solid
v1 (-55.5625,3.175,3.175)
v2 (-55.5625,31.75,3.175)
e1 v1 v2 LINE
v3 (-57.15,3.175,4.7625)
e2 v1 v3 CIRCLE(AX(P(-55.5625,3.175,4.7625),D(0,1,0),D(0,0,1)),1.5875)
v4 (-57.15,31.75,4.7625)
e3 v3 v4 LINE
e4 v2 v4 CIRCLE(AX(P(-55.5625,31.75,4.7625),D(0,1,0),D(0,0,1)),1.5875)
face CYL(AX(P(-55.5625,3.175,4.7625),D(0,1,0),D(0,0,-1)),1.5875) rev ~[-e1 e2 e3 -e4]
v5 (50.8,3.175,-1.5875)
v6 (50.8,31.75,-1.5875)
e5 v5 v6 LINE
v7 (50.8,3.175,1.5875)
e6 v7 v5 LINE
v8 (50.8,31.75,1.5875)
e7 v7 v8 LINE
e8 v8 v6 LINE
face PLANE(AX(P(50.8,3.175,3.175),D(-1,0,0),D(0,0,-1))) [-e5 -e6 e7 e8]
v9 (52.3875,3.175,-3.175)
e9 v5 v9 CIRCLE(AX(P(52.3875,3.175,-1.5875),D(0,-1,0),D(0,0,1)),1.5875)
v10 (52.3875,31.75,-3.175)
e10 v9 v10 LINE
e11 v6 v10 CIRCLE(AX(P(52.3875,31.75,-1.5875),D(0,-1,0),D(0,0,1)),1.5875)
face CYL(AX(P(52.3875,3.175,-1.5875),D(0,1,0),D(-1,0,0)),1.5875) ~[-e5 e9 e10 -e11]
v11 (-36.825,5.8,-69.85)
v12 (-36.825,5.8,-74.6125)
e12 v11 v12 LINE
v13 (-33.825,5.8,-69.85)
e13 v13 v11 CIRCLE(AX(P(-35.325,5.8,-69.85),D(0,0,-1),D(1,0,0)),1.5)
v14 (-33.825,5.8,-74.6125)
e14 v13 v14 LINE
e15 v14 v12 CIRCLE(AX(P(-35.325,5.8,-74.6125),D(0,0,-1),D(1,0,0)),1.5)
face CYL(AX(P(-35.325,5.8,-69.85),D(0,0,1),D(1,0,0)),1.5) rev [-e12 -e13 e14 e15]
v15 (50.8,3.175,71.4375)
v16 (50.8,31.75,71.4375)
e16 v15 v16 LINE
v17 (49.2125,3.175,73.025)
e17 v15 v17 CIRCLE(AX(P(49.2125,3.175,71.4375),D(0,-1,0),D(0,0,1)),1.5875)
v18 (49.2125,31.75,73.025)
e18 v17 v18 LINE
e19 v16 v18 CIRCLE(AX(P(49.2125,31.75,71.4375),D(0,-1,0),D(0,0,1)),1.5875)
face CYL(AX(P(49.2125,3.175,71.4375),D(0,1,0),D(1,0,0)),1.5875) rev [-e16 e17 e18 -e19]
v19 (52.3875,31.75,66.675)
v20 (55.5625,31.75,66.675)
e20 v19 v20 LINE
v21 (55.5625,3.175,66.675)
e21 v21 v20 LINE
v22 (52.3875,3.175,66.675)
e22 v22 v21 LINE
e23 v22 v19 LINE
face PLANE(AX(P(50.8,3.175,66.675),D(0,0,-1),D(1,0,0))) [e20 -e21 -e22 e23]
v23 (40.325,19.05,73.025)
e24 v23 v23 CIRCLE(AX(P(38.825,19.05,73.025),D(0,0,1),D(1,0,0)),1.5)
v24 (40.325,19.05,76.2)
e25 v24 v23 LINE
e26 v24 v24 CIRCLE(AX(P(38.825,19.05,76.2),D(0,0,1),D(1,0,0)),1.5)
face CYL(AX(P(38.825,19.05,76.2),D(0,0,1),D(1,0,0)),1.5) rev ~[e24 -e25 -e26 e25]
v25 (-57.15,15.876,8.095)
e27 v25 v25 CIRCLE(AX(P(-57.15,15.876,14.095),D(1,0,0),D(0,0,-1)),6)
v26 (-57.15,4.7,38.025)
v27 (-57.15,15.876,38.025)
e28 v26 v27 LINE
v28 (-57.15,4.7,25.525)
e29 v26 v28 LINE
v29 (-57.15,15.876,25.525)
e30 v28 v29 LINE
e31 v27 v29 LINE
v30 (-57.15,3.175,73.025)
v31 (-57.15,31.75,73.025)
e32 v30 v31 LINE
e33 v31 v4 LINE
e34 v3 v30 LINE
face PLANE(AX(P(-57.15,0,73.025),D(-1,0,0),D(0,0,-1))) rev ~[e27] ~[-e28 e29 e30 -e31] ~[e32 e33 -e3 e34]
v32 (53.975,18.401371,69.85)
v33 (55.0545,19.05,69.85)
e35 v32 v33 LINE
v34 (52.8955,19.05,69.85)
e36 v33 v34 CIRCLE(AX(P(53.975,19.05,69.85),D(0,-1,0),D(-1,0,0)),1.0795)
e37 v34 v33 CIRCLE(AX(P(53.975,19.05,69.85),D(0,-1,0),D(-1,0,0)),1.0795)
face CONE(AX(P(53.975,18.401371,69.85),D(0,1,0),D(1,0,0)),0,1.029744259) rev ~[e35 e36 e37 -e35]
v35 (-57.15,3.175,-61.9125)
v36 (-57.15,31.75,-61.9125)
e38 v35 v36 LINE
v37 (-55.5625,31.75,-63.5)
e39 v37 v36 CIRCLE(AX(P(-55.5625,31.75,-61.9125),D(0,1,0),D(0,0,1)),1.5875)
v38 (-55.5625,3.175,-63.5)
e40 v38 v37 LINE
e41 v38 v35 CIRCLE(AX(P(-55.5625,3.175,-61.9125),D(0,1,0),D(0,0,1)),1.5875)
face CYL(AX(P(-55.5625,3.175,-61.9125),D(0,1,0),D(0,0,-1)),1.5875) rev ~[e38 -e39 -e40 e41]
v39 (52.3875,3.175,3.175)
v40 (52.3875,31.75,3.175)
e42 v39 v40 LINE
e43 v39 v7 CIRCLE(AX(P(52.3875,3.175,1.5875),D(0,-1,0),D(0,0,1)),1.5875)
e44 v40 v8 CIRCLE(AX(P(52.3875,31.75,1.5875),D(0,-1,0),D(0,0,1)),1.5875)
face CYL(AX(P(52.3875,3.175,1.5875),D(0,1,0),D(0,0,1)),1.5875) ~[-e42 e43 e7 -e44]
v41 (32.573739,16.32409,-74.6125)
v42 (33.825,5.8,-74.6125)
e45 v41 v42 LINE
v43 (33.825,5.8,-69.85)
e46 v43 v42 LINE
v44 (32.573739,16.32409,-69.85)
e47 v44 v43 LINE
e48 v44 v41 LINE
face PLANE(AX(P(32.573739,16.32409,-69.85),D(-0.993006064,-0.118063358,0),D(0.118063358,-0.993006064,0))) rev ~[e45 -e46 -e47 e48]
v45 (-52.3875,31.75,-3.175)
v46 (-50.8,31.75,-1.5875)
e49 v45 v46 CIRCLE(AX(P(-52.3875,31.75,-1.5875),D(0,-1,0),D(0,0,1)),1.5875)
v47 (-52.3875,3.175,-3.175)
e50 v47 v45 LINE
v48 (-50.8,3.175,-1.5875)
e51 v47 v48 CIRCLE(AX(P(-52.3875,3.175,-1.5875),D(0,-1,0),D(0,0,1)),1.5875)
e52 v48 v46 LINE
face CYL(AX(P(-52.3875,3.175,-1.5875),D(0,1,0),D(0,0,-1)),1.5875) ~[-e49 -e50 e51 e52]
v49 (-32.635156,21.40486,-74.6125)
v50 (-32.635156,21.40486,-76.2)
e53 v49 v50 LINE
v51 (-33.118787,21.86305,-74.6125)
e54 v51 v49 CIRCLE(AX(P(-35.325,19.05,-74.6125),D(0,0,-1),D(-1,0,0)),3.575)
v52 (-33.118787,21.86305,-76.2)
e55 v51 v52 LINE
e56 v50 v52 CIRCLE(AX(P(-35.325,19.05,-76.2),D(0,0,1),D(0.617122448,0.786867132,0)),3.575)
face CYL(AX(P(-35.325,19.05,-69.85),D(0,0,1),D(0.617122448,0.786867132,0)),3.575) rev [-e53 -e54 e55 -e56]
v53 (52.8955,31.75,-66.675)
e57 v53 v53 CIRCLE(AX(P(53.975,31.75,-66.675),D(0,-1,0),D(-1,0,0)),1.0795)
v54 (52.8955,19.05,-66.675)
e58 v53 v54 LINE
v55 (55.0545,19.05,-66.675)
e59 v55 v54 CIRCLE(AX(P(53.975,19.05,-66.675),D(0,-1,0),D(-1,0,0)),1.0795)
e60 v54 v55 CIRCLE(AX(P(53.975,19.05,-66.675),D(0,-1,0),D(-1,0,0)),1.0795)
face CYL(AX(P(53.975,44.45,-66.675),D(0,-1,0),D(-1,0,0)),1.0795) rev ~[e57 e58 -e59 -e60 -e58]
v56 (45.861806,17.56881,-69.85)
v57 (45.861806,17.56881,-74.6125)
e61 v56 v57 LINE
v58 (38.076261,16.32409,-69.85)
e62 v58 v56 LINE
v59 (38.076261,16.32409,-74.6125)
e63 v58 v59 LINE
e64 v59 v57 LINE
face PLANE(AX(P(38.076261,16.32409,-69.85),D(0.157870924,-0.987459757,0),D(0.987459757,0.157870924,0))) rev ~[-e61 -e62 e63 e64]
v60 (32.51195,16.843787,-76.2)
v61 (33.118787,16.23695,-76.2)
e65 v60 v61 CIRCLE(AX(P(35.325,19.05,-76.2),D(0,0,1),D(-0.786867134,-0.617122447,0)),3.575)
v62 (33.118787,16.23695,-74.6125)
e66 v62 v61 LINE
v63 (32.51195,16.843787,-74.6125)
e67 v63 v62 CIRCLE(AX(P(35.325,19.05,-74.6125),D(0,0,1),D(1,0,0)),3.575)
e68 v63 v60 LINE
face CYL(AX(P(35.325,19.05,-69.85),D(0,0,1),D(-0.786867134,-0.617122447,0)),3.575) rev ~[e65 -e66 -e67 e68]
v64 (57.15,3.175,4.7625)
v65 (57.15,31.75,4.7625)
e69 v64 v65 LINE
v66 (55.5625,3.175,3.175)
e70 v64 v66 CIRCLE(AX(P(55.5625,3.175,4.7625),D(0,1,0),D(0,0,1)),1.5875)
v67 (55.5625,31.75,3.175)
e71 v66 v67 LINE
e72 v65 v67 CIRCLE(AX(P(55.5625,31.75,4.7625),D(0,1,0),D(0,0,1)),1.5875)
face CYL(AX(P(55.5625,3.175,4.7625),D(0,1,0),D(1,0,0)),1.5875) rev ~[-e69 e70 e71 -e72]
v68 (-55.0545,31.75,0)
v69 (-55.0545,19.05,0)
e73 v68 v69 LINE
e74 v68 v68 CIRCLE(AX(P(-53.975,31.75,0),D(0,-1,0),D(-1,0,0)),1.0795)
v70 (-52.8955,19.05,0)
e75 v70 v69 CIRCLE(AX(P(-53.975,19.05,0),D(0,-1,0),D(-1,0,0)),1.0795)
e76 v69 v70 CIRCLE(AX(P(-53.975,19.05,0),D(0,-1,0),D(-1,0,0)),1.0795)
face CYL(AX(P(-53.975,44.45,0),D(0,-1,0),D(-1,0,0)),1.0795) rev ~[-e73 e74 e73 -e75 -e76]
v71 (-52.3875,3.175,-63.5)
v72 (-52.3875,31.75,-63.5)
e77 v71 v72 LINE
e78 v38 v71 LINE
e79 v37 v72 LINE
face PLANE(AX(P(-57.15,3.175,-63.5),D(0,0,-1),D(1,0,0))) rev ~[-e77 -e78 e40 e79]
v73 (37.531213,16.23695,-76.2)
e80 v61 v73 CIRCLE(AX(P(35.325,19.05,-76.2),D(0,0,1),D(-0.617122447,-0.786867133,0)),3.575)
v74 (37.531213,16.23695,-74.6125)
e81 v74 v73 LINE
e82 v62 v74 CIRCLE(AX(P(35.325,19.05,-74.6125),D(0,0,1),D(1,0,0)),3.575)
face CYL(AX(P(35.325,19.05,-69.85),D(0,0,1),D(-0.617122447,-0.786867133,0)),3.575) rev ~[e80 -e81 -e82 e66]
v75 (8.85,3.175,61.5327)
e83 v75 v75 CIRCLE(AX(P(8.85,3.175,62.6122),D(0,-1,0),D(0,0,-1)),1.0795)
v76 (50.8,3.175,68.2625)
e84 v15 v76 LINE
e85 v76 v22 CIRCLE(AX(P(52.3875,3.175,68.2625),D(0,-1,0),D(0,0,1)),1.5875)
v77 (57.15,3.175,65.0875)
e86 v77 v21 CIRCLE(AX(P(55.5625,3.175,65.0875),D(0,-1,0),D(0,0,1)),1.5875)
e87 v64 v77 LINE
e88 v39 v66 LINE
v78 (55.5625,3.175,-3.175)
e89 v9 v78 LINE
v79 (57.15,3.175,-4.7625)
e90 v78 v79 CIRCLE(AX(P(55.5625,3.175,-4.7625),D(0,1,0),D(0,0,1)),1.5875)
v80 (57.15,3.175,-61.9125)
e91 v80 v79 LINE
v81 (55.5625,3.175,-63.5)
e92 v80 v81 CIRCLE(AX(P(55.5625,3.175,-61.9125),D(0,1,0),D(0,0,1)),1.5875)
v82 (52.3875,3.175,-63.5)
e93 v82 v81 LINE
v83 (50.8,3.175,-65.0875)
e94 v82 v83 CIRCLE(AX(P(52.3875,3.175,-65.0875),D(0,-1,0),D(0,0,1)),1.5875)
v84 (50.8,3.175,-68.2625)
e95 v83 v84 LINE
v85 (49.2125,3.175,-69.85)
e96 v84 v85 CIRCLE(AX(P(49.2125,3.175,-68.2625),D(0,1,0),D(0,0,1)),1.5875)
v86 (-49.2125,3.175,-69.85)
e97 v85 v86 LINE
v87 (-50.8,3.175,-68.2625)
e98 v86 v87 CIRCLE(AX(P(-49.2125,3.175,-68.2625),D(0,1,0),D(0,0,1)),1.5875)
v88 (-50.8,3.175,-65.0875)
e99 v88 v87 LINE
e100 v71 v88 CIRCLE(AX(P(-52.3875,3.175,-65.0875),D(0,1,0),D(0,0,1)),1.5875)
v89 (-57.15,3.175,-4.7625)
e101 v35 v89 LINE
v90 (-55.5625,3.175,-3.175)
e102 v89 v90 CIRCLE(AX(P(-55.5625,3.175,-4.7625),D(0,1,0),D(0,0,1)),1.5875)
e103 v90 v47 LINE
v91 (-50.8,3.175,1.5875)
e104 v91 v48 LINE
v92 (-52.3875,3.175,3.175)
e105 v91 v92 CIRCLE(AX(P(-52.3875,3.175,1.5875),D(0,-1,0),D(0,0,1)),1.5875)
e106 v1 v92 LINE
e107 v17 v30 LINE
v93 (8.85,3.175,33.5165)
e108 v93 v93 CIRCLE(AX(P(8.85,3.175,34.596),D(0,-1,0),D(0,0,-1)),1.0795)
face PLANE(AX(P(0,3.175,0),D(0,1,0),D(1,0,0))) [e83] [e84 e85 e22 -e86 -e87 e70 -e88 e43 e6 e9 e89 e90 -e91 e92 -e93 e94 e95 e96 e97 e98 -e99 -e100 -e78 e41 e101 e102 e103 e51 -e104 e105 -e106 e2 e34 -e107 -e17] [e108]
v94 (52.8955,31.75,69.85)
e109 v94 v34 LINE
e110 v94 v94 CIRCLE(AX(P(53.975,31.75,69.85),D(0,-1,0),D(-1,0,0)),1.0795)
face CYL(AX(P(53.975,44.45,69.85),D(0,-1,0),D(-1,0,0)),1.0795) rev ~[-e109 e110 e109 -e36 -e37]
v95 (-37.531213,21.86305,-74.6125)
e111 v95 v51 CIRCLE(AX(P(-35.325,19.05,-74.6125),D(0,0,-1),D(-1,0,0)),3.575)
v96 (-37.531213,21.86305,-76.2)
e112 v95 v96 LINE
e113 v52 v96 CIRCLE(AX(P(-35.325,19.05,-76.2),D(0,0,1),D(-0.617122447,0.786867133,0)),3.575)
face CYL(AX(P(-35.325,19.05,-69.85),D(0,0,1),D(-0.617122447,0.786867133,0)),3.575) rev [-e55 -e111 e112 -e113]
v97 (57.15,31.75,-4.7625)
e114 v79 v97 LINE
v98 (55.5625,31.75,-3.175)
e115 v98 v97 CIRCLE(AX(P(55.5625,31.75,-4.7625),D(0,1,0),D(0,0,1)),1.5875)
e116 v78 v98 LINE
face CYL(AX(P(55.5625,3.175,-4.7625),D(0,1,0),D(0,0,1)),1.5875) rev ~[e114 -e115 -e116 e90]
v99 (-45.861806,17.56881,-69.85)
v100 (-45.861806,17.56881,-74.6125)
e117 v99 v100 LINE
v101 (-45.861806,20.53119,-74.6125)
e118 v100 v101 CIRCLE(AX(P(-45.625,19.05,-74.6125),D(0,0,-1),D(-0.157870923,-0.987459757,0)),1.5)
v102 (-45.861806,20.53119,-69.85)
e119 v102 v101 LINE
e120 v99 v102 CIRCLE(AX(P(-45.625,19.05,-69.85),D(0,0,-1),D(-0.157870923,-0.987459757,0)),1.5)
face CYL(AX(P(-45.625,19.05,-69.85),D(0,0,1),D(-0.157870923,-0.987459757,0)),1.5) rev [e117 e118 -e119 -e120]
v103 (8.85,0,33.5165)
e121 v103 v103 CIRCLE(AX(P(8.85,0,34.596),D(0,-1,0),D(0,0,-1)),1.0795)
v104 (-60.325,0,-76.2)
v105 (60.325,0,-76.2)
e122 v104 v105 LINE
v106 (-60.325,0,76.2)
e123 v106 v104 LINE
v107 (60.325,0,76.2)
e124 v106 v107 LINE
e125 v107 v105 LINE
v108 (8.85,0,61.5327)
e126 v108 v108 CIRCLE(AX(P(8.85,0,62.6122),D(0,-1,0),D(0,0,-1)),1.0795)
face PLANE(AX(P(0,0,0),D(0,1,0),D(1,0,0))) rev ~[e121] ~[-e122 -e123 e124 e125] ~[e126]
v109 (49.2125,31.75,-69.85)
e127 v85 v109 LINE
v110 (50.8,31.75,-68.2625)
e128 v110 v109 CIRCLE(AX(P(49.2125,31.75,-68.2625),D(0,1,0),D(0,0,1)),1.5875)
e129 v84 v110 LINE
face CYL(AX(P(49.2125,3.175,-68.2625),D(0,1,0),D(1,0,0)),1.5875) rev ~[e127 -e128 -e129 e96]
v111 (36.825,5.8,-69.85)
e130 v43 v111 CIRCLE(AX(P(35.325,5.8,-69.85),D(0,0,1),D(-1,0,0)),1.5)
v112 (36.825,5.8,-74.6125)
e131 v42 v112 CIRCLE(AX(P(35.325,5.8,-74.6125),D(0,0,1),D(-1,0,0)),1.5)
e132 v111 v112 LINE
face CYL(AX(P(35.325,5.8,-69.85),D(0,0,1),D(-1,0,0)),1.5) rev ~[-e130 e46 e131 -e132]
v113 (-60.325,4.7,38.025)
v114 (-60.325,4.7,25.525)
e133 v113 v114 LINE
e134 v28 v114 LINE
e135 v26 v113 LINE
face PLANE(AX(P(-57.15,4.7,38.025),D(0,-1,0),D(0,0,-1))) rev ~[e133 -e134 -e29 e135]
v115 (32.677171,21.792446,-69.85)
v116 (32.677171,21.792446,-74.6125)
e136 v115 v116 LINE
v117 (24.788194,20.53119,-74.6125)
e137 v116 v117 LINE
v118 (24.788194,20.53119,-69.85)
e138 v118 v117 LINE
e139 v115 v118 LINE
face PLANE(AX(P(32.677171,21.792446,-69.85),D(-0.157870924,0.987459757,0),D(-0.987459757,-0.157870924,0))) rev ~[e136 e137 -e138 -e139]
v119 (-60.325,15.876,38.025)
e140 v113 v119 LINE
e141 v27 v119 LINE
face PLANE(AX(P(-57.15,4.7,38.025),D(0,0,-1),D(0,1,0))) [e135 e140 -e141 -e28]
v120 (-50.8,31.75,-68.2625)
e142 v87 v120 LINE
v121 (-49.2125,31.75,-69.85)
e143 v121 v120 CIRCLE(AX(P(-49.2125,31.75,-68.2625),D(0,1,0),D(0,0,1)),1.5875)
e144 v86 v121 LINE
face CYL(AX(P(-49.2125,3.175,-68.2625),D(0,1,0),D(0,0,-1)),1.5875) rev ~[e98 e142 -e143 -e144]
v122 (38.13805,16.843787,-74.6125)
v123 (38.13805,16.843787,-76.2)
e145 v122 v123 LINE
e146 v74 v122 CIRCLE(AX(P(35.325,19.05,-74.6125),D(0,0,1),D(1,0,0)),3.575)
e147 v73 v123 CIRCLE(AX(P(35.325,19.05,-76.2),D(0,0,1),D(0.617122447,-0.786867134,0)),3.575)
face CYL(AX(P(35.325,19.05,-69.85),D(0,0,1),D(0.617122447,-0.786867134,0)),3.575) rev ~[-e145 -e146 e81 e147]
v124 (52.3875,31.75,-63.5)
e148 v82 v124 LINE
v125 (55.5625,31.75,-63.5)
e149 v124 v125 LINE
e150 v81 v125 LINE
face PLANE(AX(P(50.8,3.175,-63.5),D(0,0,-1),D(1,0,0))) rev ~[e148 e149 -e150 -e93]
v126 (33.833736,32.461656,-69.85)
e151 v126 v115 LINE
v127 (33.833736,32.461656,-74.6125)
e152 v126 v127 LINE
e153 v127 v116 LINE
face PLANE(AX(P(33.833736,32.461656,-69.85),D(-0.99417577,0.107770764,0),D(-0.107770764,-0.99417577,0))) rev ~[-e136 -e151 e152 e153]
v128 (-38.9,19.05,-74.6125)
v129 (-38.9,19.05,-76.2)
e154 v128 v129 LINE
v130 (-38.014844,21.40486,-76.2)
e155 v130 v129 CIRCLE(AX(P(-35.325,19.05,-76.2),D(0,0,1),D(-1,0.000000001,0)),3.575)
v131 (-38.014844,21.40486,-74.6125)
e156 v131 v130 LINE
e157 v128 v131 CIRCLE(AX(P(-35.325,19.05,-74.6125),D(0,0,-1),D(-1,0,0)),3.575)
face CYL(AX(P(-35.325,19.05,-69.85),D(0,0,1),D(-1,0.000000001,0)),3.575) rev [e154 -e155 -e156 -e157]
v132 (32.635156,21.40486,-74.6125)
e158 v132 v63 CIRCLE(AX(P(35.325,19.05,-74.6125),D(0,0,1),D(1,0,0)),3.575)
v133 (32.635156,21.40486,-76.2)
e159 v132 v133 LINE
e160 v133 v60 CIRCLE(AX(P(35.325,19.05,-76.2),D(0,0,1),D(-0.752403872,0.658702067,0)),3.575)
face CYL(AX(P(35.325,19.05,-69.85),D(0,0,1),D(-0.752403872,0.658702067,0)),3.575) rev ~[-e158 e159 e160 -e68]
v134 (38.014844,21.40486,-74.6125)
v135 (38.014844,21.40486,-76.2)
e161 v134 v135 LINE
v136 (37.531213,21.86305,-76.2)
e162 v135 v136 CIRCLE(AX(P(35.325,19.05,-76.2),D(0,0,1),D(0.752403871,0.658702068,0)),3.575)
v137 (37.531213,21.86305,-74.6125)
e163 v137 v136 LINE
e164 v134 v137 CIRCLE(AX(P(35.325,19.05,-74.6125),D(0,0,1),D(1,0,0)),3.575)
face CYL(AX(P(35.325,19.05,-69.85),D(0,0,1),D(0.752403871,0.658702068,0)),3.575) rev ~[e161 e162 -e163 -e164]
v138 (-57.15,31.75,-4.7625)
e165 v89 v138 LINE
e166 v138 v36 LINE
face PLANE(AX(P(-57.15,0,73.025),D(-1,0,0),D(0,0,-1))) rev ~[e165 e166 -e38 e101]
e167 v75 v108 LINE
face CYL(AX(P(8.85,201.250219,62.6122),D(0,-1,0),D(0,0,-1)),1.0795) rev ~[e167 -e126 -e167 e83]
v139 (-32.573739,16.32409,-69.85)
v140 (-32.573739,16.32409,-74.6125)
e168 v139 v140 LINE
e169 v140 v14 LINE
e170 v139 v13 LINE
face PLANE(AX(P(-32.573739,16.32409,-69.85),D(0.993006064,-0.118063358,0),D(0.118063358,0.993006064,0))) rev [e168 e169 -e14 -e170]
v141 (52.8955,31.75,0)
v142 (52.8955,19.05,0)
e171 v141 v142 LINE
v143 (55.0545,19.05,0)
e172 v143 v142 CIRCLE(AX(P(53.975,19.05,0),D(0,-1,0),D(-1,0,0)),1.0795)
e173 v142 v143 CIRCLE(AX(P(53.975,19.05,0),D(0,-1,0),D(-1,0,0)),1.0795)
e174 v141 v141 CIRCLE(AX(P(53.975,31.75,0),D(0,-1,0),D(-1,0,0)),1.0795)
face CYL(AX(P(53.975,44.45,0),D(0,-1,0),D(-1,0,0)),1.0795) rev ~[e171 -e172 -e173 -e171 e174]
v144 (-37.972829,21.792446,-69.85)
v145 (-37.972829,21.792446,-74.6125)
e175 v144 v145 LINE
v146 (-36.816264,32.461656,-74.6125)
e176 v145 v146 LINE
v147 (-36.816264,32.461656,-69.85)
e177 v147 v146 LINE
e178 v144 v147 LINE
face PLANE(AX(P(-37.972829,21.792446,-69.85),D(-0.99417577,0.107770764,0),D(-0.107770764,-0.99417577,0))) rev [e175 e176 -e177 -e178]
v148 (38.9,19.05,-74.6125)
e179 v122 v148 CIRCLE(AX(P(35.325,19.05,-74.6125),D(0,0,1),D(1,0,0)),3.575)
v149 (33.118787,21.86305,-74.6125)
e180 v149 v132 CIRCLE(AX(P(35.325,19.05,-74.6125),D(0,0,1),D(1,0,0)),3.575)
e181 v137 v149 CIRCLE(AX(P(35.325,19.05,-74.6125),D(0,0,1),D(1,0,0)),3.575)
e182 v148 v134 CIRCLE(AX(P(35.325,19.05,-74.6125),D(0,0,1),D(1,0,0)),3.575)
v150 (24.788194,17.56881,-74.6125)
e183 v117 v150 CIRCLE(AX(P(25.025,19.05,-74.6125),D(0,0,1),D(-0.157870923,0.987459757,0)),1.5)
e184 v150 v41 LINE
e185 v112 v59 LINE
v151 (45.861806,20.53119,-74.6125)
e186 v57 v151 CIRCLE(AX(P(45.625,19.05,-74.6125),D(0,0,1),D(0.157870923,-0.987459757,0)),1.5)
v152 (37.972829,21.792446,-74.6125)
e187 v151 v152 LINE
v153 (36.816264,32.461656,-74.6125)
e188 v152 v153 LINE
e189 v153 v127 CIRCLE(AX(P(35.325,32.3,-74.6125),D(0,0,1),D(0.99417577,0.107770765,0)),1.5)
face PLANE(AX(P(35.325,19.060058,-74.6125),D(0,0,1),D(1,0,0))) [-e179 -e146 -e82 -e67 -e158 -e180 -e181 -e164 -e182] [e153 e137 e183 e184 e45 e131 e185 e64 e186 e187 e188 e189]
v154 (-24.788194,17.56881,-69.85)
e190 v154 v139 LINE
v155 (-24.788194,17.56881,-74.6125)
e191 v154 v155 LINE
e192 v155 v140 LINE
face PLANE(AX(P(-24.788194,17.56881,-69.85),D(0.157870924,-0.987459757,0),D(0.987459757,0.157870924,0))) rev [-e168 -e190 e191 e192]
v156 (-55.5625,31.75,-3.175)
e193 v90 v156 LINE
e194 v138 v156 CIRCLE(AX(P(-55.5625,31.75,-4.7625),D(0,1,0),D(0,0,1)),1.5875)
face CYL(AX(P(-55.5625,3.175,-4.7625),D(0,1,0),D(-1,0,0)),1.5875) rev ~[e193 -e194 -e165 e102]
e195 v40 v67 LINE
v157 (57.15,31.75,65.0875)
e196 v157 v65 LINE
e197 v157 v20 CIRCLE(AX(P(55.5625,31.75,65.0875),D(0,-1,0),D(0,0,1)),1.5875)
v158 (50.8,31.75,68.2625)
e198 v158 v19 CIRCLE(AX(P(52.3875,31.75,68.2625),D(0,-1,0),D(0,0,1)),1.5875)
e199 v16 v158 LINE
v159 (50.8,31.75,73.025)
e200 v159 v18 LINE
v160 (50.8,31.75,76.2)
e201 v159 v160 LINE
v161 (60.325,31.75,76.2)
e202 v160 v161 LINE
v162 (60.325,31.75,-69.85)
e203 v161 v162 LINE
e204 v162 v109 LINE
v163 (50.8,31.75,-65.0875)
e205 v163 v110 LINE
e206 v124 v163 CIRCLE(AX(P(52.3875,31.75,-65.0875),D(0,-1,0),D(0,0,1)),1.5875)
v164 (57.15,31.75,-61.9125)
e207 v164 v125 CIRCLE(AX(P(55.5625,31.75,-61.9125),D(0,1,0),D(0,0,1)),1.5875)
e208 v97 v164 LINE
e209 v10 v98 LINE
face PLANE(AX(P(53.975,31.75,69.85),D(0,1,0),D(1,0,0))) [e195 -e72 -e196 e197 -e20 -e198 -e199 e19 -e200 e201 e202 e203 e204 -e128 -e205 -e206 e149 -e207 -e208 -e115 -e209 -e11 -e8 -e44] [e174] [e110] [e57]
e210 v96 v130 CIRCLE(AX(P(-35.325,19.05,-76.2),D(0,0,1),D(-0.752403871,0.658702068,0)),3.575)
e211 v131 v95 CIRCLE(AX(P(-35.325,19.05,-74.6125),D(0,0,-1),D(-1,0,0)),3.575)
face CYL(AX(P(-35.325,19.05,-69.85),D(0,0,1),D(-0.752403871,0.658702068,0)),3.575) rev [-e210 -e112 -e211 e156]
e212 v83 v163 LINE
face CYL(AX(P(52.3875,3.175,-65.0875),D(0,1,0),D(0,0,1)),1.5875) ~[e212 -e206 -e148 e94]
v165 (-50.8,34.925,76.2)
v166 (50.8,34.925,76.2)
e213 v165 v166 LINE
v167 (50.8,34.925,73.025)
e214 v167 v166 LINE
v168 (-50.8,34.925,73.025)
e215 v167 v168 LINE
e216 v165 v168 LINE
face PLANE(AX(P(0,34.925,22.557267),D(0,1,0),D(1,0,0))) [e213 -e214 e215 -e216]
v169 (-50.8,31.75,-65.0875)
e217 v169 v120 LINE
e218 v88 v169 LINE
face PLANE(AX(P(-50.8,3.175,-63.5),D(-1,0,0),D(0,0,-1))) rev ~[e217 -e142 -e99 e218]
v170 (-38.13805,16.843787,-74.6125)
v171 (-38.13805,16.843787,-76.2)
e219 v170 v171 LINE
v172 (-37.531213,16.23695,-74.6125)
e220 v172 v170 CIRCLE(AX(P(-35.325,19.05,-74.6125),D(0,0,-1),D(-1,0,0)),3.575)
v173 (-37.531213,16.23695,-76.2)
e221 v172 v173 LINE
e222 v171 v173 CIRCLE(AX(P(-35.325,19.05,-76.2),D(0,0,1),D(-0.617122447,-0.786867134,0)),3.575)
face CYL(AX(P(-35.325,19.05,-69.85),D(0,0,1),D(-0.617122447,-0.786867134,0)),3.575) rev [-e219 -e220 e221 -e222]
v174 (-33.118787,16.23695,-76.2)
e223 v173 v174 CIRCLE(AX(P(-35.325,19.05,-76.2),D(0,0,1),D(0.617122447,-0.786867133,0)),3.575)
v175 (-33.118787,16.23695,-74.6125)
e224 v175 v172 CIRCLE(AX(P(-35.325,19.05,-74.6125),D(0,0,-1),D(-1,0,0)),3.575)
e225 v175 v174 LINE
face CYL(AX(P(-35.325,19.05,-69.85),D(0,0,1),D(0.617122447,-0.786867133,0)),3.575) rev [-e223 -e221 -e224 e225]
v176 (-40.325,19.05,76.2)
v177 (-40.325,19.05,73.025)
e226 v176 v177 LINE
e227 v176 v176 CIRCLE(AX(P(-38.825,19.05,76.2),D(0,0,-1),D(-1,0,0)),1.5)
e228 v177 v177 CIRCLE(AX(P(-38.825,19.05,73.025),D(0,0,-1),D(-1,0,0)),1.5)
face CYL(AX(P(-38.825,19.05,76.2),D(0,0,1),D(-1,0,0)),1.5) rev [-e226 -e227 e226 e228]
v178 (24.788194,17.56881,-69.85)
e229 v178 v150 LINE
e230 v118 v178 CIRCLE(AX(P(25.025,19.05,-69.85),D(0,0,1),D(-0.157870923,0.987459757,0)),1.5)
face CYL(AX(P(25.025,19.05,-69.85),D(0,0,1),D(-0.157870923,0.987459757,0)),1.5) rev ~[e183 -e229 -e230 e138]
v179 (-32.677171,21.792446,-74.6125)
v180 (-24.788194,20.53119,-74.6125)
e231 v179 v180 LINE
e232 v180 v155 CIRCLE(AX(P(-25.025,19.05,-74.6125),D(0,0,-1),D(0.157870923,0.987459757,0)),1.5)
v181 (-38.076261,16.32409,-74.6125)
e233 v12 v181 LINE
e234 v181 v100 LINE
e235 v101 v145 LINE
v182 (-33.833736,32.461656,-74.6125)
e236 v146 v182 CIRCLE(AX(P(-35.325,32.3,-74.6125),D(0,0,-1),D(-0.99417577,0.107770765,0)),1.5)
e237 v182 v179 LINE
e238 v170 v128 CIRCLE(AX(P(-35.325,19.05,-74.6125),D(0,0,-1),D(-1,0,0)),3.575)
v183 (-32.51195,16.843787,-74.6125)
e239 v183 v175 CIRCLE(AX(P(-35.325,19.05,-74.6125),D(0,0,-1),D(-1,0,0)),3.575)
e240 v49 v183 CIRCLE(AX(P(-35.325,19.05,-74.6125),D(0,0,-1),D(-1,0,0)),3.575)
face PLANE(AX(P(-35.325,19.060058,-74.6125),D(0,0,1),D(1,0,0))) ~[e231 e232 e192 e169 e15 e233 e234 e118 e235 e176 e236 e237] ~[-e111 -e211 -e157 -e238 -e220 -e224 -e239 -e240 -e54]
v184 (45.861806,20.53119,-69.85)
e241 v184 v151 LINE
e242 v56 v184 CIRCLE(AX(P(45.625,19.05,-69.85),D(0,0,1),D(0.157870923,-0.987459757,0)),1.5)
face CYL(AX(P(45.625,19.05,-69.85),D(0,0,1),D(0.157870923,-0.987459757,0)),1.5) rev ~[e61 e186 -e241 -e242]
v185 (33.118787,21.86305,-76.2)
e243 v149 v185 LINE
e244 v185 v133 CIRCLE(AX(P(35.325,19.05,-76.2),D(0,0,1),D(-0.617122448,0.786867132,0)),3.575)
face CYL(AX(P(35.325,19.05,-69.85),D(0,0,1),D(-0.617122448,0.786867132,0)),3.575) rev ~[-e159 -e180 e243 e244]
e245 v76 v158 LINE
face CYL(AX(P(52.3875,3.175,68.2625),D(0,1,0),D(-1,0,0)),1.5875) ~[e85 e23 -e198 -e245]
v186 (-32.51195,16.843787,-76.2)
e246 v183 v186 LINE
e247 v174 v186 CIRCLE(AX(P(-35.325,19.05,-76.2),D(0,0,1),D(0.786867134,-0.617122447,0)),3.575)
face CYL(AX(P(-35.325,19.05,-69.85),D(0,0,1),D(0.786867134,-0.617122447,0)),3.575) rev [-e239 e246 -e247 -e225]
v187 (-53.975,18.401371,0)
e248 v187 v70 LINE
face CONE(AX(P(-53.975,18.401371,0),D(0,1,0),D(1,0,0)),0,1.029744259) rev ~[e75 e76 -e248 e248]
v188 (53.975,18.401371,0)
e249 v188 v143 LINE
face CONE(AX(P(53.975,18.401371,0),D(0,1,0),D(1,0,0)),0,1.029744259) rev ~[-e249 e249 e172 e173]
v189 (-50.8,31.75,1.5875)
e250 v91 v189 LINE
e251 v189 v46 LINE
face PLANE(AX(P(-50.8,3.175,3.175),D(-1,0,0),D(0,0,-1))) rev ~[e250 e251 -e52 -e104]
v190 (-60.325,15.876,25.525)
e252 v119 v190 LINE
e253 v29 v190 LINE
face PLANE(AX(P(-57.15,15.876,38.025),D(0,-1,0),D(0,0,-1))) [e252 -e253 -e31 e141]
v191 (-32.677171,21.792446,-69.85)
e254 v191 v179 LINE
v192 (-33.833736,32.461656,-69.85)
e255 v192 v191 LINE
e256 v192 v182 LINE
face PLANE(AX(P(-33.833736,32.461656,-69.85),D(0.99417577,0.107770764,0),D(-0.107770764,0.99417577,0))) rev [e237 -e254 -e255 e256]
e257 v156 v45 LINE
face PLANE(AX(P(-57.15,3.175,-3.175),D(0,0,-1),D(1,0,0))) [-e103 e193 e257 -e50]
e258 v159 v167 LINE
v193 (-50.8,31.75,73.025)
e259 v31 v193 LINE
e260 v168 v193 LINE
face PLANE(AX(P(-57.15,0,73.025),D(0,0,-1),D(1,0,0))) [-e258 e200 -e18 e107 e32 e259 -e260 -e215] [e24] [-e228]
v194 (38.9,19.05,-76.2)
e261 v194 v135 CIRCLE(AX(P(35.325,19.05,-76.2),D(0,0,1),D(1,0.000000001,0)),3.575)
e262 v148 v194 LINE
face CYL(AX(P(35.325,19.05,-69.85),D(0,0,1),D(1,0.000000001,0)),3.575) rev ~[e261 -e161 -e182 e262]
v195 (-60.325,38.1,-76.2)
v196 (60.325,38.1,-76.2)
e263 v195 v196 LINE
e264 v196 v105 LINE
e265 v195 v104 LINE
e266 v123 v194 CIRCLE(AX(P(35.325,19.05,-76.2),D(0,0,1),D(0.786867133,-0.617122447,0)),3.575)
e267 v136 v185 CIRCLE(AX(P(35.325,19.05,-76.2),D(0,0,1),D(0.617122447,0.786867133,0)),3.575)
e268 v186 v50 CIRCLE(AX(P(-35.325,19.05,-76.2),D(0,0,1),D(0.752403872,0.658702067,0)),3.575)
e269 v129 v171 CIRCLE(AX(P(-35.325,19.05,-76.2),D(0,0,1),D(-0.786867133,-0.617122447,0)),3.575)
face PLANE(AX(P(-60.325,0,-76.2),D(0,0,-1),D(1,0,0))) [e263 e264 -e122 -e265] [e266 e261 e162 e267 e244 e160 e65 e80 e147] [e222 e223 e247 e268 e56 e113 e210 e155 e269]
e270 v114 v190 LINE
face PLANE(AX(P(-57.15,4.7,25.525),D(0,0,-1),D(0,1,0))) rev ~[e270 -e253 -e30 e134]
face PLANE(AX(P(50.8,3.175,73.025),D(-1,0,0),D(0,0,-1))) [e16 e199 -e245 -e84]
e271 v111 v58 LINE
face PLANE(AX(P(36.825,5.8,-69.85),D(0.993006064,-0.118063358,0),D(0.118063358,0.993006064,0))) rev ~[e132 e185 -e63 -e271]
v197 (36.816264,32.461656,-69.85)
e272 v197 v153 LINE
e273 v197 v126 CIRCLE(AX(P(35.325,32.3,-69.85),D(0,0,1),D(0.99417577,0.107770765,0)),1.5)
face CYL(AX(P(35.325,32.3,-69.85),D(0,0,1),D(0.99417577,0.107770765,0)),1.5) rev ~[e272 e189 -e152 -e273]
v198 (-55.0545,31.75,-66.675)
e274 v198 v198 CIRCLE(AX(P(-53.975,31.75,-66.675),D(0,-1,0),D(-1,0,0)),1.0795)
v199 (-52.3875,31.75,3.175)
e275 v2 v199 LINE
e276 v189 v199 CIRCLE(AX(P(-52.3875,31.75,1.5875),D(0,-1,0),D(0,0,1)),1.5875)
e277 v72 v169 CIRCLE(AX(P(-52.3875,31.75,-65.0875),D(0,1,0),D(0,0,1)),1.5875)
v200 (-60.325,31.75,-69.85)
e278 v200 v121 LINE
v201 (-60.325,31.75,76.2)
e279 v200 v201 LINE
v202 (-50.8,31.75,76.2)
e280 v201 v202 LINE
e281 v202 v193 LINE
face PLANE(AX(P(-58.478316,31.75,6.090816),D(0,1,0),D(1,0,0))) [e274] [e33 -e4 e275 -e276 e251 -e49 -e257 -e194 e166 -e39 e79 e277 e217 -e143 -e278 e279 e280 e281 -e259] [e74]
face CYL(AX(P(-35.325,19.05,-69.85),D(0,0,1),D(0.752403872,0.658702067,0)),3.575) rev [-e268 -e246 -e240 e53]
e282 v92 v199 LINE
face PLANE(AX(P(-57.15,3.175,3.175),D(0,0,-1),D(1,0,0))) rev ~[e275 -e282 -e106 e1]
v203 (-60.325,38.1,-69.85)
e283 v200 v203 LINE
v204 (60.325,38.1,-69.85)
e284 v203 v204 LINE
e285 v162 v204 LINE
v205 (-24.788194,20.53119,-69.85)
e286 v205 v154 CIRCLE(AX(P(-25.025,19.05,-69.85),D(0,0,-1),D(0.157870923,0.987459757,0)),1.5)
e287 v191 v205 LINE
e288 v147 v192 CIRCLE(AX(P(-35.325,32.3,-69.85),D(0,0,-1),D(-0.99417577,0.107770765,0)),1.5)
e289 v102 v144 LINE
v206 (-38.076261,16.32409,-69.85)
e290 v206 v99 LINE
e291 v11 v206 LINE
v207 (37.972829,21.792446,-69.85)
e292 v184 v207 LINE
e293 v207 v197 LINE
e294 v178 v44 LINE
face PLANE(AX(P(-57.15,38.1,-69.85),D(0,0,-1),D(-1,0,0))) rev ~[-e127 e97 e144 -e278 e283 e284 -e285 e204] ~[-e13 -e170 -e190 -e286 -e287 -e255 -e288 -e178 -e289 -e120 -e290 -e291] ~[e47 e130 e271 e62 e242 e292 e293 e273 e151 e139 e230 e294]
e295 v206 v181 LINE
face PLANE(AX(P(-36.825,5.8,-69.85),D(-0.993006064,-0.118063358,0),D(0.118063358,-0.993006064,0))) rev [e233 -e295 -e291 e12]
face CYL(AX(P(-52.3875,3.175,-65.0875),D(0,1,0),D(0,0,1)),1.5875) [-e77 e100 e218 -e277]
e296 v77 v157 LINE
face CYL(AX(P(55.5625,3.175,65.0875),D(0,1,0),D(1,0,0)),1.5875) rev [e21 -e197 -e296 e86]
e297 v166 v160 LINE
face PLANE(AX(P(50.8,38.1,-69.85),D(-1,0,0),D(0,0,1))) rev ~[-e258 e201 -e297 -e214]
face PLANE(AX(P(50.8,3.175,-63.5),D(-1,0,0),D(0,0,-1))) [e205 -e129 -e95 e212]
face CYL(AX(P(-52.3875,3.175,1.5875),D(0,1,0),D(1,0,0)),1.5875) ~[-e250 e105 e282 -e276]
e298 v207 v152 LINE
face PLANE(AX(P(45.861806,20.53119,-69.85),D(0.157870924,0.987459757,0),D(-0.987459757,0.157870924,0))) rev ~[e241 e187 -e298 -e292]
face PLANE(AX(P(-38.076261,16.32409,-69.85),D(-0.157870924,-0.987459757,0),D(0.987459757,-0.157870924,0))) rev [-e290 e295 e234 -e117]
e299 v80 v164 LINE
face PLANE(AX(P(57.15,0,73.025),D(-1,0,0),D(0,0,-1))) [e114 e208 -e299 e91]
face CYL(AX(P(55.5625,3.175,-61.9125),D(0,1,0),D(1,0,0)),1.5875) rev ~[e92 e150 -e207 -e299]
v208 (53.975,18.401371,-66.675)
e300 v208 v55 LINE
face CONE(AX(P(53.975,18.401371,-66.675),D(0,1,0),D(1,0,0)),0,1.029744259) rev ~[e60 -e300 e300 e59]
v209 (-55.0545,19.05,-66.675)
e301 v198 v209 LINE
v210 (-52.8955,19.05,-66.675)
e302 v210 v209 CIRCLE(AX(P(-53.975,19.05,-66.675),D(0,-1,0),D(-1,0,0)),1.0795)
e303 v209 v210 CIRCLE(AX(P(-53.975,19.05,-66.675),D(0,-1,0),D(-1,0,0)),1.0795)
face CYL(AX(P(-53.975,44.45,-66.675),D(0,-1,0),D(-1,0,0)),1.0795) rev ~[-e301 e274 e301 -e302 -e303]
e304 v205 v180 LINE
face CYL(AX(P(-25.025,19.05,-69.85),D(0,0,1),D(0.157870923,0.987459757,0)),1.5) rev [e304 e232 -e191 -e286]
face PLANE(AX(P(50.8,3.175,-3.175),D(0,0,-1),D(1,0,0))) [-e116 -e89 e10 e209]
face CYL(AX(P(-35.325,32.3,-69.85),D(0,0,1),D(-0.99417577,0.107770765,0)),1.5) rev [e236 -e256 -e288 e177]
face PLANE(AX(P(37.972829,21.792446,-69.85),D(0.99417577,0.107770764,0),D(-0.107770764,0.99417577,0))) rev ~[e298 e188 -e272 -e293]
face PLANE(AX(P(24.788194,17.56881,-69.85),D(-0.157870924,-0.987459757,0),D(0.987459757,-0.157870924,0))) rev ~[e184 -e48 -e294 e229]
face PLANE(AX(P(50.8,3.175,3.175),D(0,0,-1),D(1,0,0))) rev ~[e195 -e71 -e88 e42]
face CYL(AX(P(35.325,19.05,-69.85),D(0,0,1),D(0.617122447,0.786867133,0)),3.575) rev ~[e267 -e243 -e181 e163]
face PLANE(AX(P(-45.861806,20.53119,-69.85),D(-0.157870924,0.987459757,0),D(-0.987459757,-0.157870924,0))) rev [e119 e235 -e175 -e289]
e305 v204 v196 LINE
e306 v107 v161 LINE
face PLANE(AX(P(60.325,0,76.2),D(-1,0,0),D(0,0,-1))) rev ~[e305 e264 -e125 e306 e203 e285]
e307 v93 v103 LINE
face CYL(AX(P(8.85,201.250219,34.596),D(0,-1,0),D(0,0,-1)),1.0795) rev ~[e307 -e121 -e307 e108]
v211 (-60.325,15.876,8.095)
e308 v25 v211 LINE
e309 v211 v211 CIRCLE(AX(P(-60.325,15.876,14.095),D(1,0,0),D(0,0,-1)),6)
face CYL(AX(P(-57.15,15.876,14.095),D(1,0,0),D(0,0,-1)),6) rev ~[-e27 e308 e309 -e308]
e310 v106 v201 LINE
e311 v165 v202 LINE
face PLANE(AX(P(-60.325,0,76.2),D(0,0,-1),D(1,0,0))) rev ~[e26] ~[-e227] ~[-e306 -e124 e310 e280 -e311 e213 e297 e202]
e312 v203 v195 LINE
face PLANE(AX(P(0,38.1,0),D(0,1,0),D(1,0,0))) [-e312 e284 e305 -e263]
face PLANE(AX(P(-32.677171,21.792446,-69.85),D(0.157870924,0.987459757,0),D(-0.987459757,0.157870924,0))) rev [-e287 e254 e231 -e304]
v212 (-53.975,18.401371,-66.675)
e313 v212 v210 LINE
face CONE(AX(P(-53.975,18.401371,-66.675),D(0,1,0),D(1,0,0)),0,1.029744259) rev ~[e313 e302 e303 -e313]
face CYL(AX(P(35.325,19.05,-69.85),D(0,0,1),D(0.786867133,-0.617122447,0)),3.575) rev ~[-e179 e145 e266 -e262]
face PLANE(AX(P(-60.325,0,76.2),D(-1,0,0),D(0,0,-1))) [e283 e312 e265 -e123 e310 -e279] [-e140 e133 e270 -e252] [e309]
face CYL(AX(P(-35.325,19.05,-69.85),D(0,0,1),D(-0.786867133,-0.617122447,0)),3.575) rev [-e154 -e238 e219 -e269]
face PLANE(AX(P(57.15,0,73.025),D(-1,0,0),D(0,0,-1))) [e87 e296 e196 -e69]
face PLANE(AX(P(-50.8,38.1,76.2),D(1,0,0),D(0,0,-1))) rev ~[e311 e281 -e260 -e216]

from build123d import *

# Parameters (mm, degrees)
SKETCH1_W                 = 120.65
SKETCH1_H                 = 152.4
BOSS_EXTRUDE1_DEPTH       = 3.175
SKETCH1_3_W               = 120.65
SKETCH1_3_H               = 152.4
SKETCH1_3_W_2             = 114.3
SKETCH1_3_H_2             = 142.875
BOSS_EXTRUDE2_DEPTH       = 38.1
SKETCH2_R                 = 1.5
CUT_EXTRUDE1_DEPTH        = 3.175
SKETCH3_R                 = 3.575
CUT_EXTRUDE8_DEPTH        = 4.7625
CUT_EXTRUDE9_DEPTH        = 163.546356849
CUT_EXTRUDE10_REACH       = 147.115
SKETCH4_R                 = 6
SKETCH4_W                 = 12.5
SKETCH4_H                 = 11.176
F_2_CLEARANCE_HOLE1_D     = 2.159
CUT_EXTRUDE11_DEPTH       = 3.175
SKETCH8_6_W               = 6.35
SKETCH8_6_H               = 142.875
CUT_EXTRUDE13_DEPTH       = 6.35
SKETCH9_W                 = 6.35
SKETCH9_H                 = 6.35
BOSS_EXTRUDE3_DEPTH       = 28.575
FILLET1_R                 = 1.5875
F_2_CLEARANCE_HOLE2_D     = 2.159
F_2_CLEARANCE_HOLE2_DEPTH = 12.7
F_2_CLEARANCE_HOLE2_TIP   = 0.648629038


with BuildPart() as part:
    # Sketch1 → Boss-Extrude1 (new body)
    with BuildSketch(Plane(origin=(0, 0, 0), x_dir=(1, 0, 0), z_dir=(0, 1, 0))):
        Rectangle(SKETCH1_W, SKETCH1_H)
    extrude(amount=BOSS_EXTRUDE1_DEPTH)

    # Sketch1<3> → Boss-Extrude2 (add)
    with BuildSketch(Plane(origin=(0, 0, 0), x_dir=(1, 0, 0), z_dir=(0, 1, 0))):
        Rectangle(SKETCH1_3_W, SKETCH1_3_H)
        with Locations((0, -1.5875)):
            Rectangle(SKETCH1_3_W_2, SKETCH1_3_H_2, mode=Mode.SUBTRACT)
    extrude(amount=BOSS_EXTRUDE2_DEPTH)

    # Sketch2 → Cut-Extrude1 (cut)
    with BuildSketch(Plane.XY.offset(76.2)):
        with Locations((38.825, 19.05)):
            Circle(SKETCH2_R)
    cut_extrude1 = extrude(amount=-CUT_EXTRUDE1_DEPTH, mode=Mode.SUBTRACT)

    # Sketch3 → Cut-Extrude8 (cut)
    with BuildSketch(Plane.XY.offset(-69.85)):
        with BuildLine():
            Line((33.833736344, 32.461656111), (32.677171347, 21.792446302))
            Line((32.677171347, 21.792446302), (24.788193615, 20.531189635))
            ThreePointArc((24.788193615, 20.531189635), (23.525, 19.05), (24.788193615, 17.568810365))
            Line((24.788193615, 17.568810365), (32.573739357, 16.324089971))
            Line((32.573739357, 16.324089971), (33.825, 5.8))
            ThreePointArc((33.825, 5.8), (35.325, 4.3), (36.825, 5.8))
            Line((36.825, 5.8), (38.076260643, 16.324089971))
            Line((38.076260643, 16.324089971), (45.861806385, 17.568810365))
            ThreePointArc((45.861806385, 17.568810365), (47.125, 19.05), (45.861806385, 20.531189635))
            Line((45.861806385, 20.531189635), (37.972828653, 21.792446302))
            Line((37.972828653, 21.792446302), (36.816263656, 32.461656111))
            ThreePointArc((36.816263656, 32.461656111), (35.325, 33.799999964), (33.833736344, 32.461656111))
        make_face()
        with Locations((35.325, 19.05)):
            Circle(SKETCH3_R, mode=Mode.SUBTRACT)
    cut_extrude8 = extrude(amount=-CUT_EXTRUDE8_DEPTH, mode=Mode.SUBTRACT)

    # Sketch3<8> → Cut-Extrude9 (cut, through all)
    with BuildSketch(Plane.XY.offset(-69.85)):
        with BuildLine():
            ThreePointArc((37.53121275, 16.23695), (37.852906743, 16.522093257), (38.13805, 16.84378725))
            ThreePointArc((38.13805, 16.84378725), (38.704147729, 17.882958602), (38.9, 19.05))
            ThreePointArc((38.9, 19.05), (38.671402302, 20.307861928), (38.014843843, 21.40485989))
            ThreePointArc((38.014843843, 21.40485989), (37.783724686, 21.645245252), (37.53121275, 21.86305))
            ThreePointArc((37.53121275, 21.86305), (35.325, 22.625), (33.11878725, 21.86305))
            ThreePointArc((33.11878725, 21.86305), (32.866275314, 21.645245252), (32.635156157, 21.40485989))
            ThreePointArc((32.635156157, 21.40485989), (31.751303585, 19.146534617), (32.51195, 16.84378725))
            ThreePointArc((32.51195, 16.84378725), (32.797093257, 16.522093257), (33.11878725, 16.23695))
            ThreePointArc((33.11878725, 16.23695), (35.325, 15.475), (37.53121275, 16.23695))
        make_face()
    cut_extrude9 = extrude(amount=-CUT_EXTRUDE9_DEPTH, mode=Mode.SUBTRACT)

    # Mirror1: Cut-Extrude1, Cut-Extrude8, Cut-Extrude9 across plane
    add(cut_extrude1.mirror(Plane(origin=(0, 0, 0), x_dir=(0, 0, 1), z_dir=(1, 0, 0))), mode=Mode.SUBTRACT)
    add(cut_extrude8.mirror(Plane(origin=(0, 0, 0), x_dir=(0, 0, 1), z_dir=(1, 0, 0))), mode=Mode.SUBTRACT)
    add(cut_extrude9.mirror(Plane(origin=(0, 0, 0), x_dir=(0, 0, 1), z_dir=(1, 0, 0))), mode=Mode.SUBTRACT)

    # Sketch4 → Cut-Extrude10 (cut, up to next)
    with BuildSketch(Plane(origin=(-57.15, 0, 0), x_dir=(0, 0, -1), z_dir=(1, 0, 0)), mode=Mode.PRIVATE) as cut_extrude10_sk1:
        with Locations((-14.095, 15.876)):
            Circle(SKETCH4_R)
    cut_extrude10_tool1 = extrude(cut_extrude10_sk1.sketch, amount=-CUT_EXTRUDE10_REACH, mode=Mode.PRIVATE) & part.part
    # Sketch4 → Cut-Extrude10 (cut, up to next)
    with BuildSketch(Plane(origin=(-57.15, 0, 0), x_dir=(0, 0, -1), z_dir=(1, 0, 0)), mode=Mode.PRIVATE) as cut_extrude10_sk2:
        with Locations((-31.775, 10.288)):
            Rectangle(SKETCH4_W, SKETCH4_H)
    cut_extrude10_tool2 = extrude(cut_extrude10_sk2.sketch, amount=-CUT_EXTRUDE10_REACH, mode=Mode.PRIVATE) & part.part
    add(cut_extrude10_tool1.solids().sort_by_distance((-57.15, 15.876, 14.095))[0], mode=Mode.SUBTRACT)
    add(cut_extrude10_tool2.solids().sort_by_distance((-57.15, 10.288, 31.775))[0], mode=Mode.SUBTRACT)

    # #2 Clearance Hole1 (through all)
    with Locations(Plane(origin=(8.85, 3.175, 62.6122), x_dir=(0, 0, 1), z_dir=(0, 1, 0))):
        with Locations((0, 0), (-28.0162, 0)):
            Hole(F_2_CLEARANCE_HOLE1_D / 2)

    # Sketch8 → Cut-Extrude11 (cut)
    with BuildSketch(Plane(origin=(0, 38.1, 0), x_dir=(1, 0, 0), z_dir=(0, 1, 0))):
        Polygon((-60.325, 69.85), (-60.325, -76.2), (60.325, -76.2), (60.325, 69.85), (57.15, 69.85), (57.15, -73.025), (-57.15, -73.025), (-57.15, 69.85), align=None)
    extrude(amount=-CUT_EXTRUDE11_DEPTH, mode=Mode.SUBTRACT)

    # Sketch8<6> → Cut-Extrude13 (cut)
    with BuildSketch(Plane(origin=(0, 38.1, 0), x_dir=(1, 0, 0), z_dir=(0, 1, 0))):
        Polygon((-60.325, 69.85), (-60.325, -76.2), (-50.8, -76.2), (-50.8, -73.025), (-57.15, -73.025), (-57.15, 69.85), align=None)
        with Locations((-53.975, -1.5875)):
            Rectangle(SKETCH8_6_W, SKETCH8_6_H)
        with Locations((53.975, -1.5875)):
            Rectangle(SKETCH8_6_W, SKETCH8_6_H)
        Polygon((50.8, -73.025), (50.8, -76.2), (60.325, -76.2), (60.325, 69.85), (57.15, 69.85), (57.15, -73.025), align=None)
    extrude(amount=-CUT_EXTRUDE13_DEPTH, mode=Mode.SUBTRACT)

    # Sketch9 → Boss-Extrude3 (add)
    with BuildSketch(Plane(origin=(0, 3.175, 0), x_dir=(1, 0, 0), z_dir=(0, 1, 0))):
        with Locations((-53.975, 0)):
            Rectangle(SKETCH9_W, SKETCH9_H)
        with Locations((53.975, 0)):
            Rectangle(SKETCH9_W, SKETCH9_H)
        with Locations((53.975, -69.85)):
            Rectangle(SKETCH9_W, SKETCH9_H)
        with Locations((-53.975, 66.675)):
            Rectangle(SKETCH9_W, SKETCH9_H)
        with Locations((53.975, 66.675)):
            Rectangle(SKETCH9_W, SKETCH9_H)
    extrude(amount=BOSS_EXTRUDE3_DEPTH)

    # Fillet1
    fillet1_edges = [part.edges().sort_by_distance(p)[0] for p in [
        (-57.15, 17.4625, -3.175),
        (-57.15, 17.4625, 3.175),
        (-50.8, 17.4625, 3.175),
        (-50.8, 17.4625, -3.175),
        (57.15, 17.4625, 3.175),
        (57.15, 17.4625, -3.175),
        (50.8, 17.4625, -3.175),
        (50.8, 17.4625, 3.175),
        (-57.15, 17.4625, -63.5),
        (-50.8, 17.4625, -63.5),
        (-50.8, 17.4625, -69.85),
        (57.15, 17.4625, 66.675),
        (50.8, 17.4625, 66.675),
        (50.8, 17.4625, 73.025),
        (57.15, 17.4625, -63.5),
        (50.8, 17.4625, -69.85),
        (50.8, 17.4625, -63.5),
    ]]
    fillet(fillet1_edges, radius=FILLET1_R)

    # #2 Clearance Hole2
    with Locations(Plane(origin=(0, 31.75, 0), x_dir=(1, 0, 0), z_dir=(0, 1, 0))):
        with Locations((53.975, 66.675), (53.975, -69.85), (53.975, 0), (-53.975, 0), (-53.975, 66.675)):
            Hole(F_2_CLEARANCE_HOLE2_D / 2, depth=F_2_CLEARANCE_HOLE2_DEPTH)
            with Locations((0, 0, -(F_2_CLEARANCE_HOLE2_DEPTH + F_2_CLEARANCE_HOLE2_TIP / 2))):  # 118° drill point
                Cone(0, F_2_CLEARANCE_HOLE2_D / 2, F_2_CLEARANCE_HOLE2_TIP, mode=Mode.SUBTRACT)


solid = part.part
